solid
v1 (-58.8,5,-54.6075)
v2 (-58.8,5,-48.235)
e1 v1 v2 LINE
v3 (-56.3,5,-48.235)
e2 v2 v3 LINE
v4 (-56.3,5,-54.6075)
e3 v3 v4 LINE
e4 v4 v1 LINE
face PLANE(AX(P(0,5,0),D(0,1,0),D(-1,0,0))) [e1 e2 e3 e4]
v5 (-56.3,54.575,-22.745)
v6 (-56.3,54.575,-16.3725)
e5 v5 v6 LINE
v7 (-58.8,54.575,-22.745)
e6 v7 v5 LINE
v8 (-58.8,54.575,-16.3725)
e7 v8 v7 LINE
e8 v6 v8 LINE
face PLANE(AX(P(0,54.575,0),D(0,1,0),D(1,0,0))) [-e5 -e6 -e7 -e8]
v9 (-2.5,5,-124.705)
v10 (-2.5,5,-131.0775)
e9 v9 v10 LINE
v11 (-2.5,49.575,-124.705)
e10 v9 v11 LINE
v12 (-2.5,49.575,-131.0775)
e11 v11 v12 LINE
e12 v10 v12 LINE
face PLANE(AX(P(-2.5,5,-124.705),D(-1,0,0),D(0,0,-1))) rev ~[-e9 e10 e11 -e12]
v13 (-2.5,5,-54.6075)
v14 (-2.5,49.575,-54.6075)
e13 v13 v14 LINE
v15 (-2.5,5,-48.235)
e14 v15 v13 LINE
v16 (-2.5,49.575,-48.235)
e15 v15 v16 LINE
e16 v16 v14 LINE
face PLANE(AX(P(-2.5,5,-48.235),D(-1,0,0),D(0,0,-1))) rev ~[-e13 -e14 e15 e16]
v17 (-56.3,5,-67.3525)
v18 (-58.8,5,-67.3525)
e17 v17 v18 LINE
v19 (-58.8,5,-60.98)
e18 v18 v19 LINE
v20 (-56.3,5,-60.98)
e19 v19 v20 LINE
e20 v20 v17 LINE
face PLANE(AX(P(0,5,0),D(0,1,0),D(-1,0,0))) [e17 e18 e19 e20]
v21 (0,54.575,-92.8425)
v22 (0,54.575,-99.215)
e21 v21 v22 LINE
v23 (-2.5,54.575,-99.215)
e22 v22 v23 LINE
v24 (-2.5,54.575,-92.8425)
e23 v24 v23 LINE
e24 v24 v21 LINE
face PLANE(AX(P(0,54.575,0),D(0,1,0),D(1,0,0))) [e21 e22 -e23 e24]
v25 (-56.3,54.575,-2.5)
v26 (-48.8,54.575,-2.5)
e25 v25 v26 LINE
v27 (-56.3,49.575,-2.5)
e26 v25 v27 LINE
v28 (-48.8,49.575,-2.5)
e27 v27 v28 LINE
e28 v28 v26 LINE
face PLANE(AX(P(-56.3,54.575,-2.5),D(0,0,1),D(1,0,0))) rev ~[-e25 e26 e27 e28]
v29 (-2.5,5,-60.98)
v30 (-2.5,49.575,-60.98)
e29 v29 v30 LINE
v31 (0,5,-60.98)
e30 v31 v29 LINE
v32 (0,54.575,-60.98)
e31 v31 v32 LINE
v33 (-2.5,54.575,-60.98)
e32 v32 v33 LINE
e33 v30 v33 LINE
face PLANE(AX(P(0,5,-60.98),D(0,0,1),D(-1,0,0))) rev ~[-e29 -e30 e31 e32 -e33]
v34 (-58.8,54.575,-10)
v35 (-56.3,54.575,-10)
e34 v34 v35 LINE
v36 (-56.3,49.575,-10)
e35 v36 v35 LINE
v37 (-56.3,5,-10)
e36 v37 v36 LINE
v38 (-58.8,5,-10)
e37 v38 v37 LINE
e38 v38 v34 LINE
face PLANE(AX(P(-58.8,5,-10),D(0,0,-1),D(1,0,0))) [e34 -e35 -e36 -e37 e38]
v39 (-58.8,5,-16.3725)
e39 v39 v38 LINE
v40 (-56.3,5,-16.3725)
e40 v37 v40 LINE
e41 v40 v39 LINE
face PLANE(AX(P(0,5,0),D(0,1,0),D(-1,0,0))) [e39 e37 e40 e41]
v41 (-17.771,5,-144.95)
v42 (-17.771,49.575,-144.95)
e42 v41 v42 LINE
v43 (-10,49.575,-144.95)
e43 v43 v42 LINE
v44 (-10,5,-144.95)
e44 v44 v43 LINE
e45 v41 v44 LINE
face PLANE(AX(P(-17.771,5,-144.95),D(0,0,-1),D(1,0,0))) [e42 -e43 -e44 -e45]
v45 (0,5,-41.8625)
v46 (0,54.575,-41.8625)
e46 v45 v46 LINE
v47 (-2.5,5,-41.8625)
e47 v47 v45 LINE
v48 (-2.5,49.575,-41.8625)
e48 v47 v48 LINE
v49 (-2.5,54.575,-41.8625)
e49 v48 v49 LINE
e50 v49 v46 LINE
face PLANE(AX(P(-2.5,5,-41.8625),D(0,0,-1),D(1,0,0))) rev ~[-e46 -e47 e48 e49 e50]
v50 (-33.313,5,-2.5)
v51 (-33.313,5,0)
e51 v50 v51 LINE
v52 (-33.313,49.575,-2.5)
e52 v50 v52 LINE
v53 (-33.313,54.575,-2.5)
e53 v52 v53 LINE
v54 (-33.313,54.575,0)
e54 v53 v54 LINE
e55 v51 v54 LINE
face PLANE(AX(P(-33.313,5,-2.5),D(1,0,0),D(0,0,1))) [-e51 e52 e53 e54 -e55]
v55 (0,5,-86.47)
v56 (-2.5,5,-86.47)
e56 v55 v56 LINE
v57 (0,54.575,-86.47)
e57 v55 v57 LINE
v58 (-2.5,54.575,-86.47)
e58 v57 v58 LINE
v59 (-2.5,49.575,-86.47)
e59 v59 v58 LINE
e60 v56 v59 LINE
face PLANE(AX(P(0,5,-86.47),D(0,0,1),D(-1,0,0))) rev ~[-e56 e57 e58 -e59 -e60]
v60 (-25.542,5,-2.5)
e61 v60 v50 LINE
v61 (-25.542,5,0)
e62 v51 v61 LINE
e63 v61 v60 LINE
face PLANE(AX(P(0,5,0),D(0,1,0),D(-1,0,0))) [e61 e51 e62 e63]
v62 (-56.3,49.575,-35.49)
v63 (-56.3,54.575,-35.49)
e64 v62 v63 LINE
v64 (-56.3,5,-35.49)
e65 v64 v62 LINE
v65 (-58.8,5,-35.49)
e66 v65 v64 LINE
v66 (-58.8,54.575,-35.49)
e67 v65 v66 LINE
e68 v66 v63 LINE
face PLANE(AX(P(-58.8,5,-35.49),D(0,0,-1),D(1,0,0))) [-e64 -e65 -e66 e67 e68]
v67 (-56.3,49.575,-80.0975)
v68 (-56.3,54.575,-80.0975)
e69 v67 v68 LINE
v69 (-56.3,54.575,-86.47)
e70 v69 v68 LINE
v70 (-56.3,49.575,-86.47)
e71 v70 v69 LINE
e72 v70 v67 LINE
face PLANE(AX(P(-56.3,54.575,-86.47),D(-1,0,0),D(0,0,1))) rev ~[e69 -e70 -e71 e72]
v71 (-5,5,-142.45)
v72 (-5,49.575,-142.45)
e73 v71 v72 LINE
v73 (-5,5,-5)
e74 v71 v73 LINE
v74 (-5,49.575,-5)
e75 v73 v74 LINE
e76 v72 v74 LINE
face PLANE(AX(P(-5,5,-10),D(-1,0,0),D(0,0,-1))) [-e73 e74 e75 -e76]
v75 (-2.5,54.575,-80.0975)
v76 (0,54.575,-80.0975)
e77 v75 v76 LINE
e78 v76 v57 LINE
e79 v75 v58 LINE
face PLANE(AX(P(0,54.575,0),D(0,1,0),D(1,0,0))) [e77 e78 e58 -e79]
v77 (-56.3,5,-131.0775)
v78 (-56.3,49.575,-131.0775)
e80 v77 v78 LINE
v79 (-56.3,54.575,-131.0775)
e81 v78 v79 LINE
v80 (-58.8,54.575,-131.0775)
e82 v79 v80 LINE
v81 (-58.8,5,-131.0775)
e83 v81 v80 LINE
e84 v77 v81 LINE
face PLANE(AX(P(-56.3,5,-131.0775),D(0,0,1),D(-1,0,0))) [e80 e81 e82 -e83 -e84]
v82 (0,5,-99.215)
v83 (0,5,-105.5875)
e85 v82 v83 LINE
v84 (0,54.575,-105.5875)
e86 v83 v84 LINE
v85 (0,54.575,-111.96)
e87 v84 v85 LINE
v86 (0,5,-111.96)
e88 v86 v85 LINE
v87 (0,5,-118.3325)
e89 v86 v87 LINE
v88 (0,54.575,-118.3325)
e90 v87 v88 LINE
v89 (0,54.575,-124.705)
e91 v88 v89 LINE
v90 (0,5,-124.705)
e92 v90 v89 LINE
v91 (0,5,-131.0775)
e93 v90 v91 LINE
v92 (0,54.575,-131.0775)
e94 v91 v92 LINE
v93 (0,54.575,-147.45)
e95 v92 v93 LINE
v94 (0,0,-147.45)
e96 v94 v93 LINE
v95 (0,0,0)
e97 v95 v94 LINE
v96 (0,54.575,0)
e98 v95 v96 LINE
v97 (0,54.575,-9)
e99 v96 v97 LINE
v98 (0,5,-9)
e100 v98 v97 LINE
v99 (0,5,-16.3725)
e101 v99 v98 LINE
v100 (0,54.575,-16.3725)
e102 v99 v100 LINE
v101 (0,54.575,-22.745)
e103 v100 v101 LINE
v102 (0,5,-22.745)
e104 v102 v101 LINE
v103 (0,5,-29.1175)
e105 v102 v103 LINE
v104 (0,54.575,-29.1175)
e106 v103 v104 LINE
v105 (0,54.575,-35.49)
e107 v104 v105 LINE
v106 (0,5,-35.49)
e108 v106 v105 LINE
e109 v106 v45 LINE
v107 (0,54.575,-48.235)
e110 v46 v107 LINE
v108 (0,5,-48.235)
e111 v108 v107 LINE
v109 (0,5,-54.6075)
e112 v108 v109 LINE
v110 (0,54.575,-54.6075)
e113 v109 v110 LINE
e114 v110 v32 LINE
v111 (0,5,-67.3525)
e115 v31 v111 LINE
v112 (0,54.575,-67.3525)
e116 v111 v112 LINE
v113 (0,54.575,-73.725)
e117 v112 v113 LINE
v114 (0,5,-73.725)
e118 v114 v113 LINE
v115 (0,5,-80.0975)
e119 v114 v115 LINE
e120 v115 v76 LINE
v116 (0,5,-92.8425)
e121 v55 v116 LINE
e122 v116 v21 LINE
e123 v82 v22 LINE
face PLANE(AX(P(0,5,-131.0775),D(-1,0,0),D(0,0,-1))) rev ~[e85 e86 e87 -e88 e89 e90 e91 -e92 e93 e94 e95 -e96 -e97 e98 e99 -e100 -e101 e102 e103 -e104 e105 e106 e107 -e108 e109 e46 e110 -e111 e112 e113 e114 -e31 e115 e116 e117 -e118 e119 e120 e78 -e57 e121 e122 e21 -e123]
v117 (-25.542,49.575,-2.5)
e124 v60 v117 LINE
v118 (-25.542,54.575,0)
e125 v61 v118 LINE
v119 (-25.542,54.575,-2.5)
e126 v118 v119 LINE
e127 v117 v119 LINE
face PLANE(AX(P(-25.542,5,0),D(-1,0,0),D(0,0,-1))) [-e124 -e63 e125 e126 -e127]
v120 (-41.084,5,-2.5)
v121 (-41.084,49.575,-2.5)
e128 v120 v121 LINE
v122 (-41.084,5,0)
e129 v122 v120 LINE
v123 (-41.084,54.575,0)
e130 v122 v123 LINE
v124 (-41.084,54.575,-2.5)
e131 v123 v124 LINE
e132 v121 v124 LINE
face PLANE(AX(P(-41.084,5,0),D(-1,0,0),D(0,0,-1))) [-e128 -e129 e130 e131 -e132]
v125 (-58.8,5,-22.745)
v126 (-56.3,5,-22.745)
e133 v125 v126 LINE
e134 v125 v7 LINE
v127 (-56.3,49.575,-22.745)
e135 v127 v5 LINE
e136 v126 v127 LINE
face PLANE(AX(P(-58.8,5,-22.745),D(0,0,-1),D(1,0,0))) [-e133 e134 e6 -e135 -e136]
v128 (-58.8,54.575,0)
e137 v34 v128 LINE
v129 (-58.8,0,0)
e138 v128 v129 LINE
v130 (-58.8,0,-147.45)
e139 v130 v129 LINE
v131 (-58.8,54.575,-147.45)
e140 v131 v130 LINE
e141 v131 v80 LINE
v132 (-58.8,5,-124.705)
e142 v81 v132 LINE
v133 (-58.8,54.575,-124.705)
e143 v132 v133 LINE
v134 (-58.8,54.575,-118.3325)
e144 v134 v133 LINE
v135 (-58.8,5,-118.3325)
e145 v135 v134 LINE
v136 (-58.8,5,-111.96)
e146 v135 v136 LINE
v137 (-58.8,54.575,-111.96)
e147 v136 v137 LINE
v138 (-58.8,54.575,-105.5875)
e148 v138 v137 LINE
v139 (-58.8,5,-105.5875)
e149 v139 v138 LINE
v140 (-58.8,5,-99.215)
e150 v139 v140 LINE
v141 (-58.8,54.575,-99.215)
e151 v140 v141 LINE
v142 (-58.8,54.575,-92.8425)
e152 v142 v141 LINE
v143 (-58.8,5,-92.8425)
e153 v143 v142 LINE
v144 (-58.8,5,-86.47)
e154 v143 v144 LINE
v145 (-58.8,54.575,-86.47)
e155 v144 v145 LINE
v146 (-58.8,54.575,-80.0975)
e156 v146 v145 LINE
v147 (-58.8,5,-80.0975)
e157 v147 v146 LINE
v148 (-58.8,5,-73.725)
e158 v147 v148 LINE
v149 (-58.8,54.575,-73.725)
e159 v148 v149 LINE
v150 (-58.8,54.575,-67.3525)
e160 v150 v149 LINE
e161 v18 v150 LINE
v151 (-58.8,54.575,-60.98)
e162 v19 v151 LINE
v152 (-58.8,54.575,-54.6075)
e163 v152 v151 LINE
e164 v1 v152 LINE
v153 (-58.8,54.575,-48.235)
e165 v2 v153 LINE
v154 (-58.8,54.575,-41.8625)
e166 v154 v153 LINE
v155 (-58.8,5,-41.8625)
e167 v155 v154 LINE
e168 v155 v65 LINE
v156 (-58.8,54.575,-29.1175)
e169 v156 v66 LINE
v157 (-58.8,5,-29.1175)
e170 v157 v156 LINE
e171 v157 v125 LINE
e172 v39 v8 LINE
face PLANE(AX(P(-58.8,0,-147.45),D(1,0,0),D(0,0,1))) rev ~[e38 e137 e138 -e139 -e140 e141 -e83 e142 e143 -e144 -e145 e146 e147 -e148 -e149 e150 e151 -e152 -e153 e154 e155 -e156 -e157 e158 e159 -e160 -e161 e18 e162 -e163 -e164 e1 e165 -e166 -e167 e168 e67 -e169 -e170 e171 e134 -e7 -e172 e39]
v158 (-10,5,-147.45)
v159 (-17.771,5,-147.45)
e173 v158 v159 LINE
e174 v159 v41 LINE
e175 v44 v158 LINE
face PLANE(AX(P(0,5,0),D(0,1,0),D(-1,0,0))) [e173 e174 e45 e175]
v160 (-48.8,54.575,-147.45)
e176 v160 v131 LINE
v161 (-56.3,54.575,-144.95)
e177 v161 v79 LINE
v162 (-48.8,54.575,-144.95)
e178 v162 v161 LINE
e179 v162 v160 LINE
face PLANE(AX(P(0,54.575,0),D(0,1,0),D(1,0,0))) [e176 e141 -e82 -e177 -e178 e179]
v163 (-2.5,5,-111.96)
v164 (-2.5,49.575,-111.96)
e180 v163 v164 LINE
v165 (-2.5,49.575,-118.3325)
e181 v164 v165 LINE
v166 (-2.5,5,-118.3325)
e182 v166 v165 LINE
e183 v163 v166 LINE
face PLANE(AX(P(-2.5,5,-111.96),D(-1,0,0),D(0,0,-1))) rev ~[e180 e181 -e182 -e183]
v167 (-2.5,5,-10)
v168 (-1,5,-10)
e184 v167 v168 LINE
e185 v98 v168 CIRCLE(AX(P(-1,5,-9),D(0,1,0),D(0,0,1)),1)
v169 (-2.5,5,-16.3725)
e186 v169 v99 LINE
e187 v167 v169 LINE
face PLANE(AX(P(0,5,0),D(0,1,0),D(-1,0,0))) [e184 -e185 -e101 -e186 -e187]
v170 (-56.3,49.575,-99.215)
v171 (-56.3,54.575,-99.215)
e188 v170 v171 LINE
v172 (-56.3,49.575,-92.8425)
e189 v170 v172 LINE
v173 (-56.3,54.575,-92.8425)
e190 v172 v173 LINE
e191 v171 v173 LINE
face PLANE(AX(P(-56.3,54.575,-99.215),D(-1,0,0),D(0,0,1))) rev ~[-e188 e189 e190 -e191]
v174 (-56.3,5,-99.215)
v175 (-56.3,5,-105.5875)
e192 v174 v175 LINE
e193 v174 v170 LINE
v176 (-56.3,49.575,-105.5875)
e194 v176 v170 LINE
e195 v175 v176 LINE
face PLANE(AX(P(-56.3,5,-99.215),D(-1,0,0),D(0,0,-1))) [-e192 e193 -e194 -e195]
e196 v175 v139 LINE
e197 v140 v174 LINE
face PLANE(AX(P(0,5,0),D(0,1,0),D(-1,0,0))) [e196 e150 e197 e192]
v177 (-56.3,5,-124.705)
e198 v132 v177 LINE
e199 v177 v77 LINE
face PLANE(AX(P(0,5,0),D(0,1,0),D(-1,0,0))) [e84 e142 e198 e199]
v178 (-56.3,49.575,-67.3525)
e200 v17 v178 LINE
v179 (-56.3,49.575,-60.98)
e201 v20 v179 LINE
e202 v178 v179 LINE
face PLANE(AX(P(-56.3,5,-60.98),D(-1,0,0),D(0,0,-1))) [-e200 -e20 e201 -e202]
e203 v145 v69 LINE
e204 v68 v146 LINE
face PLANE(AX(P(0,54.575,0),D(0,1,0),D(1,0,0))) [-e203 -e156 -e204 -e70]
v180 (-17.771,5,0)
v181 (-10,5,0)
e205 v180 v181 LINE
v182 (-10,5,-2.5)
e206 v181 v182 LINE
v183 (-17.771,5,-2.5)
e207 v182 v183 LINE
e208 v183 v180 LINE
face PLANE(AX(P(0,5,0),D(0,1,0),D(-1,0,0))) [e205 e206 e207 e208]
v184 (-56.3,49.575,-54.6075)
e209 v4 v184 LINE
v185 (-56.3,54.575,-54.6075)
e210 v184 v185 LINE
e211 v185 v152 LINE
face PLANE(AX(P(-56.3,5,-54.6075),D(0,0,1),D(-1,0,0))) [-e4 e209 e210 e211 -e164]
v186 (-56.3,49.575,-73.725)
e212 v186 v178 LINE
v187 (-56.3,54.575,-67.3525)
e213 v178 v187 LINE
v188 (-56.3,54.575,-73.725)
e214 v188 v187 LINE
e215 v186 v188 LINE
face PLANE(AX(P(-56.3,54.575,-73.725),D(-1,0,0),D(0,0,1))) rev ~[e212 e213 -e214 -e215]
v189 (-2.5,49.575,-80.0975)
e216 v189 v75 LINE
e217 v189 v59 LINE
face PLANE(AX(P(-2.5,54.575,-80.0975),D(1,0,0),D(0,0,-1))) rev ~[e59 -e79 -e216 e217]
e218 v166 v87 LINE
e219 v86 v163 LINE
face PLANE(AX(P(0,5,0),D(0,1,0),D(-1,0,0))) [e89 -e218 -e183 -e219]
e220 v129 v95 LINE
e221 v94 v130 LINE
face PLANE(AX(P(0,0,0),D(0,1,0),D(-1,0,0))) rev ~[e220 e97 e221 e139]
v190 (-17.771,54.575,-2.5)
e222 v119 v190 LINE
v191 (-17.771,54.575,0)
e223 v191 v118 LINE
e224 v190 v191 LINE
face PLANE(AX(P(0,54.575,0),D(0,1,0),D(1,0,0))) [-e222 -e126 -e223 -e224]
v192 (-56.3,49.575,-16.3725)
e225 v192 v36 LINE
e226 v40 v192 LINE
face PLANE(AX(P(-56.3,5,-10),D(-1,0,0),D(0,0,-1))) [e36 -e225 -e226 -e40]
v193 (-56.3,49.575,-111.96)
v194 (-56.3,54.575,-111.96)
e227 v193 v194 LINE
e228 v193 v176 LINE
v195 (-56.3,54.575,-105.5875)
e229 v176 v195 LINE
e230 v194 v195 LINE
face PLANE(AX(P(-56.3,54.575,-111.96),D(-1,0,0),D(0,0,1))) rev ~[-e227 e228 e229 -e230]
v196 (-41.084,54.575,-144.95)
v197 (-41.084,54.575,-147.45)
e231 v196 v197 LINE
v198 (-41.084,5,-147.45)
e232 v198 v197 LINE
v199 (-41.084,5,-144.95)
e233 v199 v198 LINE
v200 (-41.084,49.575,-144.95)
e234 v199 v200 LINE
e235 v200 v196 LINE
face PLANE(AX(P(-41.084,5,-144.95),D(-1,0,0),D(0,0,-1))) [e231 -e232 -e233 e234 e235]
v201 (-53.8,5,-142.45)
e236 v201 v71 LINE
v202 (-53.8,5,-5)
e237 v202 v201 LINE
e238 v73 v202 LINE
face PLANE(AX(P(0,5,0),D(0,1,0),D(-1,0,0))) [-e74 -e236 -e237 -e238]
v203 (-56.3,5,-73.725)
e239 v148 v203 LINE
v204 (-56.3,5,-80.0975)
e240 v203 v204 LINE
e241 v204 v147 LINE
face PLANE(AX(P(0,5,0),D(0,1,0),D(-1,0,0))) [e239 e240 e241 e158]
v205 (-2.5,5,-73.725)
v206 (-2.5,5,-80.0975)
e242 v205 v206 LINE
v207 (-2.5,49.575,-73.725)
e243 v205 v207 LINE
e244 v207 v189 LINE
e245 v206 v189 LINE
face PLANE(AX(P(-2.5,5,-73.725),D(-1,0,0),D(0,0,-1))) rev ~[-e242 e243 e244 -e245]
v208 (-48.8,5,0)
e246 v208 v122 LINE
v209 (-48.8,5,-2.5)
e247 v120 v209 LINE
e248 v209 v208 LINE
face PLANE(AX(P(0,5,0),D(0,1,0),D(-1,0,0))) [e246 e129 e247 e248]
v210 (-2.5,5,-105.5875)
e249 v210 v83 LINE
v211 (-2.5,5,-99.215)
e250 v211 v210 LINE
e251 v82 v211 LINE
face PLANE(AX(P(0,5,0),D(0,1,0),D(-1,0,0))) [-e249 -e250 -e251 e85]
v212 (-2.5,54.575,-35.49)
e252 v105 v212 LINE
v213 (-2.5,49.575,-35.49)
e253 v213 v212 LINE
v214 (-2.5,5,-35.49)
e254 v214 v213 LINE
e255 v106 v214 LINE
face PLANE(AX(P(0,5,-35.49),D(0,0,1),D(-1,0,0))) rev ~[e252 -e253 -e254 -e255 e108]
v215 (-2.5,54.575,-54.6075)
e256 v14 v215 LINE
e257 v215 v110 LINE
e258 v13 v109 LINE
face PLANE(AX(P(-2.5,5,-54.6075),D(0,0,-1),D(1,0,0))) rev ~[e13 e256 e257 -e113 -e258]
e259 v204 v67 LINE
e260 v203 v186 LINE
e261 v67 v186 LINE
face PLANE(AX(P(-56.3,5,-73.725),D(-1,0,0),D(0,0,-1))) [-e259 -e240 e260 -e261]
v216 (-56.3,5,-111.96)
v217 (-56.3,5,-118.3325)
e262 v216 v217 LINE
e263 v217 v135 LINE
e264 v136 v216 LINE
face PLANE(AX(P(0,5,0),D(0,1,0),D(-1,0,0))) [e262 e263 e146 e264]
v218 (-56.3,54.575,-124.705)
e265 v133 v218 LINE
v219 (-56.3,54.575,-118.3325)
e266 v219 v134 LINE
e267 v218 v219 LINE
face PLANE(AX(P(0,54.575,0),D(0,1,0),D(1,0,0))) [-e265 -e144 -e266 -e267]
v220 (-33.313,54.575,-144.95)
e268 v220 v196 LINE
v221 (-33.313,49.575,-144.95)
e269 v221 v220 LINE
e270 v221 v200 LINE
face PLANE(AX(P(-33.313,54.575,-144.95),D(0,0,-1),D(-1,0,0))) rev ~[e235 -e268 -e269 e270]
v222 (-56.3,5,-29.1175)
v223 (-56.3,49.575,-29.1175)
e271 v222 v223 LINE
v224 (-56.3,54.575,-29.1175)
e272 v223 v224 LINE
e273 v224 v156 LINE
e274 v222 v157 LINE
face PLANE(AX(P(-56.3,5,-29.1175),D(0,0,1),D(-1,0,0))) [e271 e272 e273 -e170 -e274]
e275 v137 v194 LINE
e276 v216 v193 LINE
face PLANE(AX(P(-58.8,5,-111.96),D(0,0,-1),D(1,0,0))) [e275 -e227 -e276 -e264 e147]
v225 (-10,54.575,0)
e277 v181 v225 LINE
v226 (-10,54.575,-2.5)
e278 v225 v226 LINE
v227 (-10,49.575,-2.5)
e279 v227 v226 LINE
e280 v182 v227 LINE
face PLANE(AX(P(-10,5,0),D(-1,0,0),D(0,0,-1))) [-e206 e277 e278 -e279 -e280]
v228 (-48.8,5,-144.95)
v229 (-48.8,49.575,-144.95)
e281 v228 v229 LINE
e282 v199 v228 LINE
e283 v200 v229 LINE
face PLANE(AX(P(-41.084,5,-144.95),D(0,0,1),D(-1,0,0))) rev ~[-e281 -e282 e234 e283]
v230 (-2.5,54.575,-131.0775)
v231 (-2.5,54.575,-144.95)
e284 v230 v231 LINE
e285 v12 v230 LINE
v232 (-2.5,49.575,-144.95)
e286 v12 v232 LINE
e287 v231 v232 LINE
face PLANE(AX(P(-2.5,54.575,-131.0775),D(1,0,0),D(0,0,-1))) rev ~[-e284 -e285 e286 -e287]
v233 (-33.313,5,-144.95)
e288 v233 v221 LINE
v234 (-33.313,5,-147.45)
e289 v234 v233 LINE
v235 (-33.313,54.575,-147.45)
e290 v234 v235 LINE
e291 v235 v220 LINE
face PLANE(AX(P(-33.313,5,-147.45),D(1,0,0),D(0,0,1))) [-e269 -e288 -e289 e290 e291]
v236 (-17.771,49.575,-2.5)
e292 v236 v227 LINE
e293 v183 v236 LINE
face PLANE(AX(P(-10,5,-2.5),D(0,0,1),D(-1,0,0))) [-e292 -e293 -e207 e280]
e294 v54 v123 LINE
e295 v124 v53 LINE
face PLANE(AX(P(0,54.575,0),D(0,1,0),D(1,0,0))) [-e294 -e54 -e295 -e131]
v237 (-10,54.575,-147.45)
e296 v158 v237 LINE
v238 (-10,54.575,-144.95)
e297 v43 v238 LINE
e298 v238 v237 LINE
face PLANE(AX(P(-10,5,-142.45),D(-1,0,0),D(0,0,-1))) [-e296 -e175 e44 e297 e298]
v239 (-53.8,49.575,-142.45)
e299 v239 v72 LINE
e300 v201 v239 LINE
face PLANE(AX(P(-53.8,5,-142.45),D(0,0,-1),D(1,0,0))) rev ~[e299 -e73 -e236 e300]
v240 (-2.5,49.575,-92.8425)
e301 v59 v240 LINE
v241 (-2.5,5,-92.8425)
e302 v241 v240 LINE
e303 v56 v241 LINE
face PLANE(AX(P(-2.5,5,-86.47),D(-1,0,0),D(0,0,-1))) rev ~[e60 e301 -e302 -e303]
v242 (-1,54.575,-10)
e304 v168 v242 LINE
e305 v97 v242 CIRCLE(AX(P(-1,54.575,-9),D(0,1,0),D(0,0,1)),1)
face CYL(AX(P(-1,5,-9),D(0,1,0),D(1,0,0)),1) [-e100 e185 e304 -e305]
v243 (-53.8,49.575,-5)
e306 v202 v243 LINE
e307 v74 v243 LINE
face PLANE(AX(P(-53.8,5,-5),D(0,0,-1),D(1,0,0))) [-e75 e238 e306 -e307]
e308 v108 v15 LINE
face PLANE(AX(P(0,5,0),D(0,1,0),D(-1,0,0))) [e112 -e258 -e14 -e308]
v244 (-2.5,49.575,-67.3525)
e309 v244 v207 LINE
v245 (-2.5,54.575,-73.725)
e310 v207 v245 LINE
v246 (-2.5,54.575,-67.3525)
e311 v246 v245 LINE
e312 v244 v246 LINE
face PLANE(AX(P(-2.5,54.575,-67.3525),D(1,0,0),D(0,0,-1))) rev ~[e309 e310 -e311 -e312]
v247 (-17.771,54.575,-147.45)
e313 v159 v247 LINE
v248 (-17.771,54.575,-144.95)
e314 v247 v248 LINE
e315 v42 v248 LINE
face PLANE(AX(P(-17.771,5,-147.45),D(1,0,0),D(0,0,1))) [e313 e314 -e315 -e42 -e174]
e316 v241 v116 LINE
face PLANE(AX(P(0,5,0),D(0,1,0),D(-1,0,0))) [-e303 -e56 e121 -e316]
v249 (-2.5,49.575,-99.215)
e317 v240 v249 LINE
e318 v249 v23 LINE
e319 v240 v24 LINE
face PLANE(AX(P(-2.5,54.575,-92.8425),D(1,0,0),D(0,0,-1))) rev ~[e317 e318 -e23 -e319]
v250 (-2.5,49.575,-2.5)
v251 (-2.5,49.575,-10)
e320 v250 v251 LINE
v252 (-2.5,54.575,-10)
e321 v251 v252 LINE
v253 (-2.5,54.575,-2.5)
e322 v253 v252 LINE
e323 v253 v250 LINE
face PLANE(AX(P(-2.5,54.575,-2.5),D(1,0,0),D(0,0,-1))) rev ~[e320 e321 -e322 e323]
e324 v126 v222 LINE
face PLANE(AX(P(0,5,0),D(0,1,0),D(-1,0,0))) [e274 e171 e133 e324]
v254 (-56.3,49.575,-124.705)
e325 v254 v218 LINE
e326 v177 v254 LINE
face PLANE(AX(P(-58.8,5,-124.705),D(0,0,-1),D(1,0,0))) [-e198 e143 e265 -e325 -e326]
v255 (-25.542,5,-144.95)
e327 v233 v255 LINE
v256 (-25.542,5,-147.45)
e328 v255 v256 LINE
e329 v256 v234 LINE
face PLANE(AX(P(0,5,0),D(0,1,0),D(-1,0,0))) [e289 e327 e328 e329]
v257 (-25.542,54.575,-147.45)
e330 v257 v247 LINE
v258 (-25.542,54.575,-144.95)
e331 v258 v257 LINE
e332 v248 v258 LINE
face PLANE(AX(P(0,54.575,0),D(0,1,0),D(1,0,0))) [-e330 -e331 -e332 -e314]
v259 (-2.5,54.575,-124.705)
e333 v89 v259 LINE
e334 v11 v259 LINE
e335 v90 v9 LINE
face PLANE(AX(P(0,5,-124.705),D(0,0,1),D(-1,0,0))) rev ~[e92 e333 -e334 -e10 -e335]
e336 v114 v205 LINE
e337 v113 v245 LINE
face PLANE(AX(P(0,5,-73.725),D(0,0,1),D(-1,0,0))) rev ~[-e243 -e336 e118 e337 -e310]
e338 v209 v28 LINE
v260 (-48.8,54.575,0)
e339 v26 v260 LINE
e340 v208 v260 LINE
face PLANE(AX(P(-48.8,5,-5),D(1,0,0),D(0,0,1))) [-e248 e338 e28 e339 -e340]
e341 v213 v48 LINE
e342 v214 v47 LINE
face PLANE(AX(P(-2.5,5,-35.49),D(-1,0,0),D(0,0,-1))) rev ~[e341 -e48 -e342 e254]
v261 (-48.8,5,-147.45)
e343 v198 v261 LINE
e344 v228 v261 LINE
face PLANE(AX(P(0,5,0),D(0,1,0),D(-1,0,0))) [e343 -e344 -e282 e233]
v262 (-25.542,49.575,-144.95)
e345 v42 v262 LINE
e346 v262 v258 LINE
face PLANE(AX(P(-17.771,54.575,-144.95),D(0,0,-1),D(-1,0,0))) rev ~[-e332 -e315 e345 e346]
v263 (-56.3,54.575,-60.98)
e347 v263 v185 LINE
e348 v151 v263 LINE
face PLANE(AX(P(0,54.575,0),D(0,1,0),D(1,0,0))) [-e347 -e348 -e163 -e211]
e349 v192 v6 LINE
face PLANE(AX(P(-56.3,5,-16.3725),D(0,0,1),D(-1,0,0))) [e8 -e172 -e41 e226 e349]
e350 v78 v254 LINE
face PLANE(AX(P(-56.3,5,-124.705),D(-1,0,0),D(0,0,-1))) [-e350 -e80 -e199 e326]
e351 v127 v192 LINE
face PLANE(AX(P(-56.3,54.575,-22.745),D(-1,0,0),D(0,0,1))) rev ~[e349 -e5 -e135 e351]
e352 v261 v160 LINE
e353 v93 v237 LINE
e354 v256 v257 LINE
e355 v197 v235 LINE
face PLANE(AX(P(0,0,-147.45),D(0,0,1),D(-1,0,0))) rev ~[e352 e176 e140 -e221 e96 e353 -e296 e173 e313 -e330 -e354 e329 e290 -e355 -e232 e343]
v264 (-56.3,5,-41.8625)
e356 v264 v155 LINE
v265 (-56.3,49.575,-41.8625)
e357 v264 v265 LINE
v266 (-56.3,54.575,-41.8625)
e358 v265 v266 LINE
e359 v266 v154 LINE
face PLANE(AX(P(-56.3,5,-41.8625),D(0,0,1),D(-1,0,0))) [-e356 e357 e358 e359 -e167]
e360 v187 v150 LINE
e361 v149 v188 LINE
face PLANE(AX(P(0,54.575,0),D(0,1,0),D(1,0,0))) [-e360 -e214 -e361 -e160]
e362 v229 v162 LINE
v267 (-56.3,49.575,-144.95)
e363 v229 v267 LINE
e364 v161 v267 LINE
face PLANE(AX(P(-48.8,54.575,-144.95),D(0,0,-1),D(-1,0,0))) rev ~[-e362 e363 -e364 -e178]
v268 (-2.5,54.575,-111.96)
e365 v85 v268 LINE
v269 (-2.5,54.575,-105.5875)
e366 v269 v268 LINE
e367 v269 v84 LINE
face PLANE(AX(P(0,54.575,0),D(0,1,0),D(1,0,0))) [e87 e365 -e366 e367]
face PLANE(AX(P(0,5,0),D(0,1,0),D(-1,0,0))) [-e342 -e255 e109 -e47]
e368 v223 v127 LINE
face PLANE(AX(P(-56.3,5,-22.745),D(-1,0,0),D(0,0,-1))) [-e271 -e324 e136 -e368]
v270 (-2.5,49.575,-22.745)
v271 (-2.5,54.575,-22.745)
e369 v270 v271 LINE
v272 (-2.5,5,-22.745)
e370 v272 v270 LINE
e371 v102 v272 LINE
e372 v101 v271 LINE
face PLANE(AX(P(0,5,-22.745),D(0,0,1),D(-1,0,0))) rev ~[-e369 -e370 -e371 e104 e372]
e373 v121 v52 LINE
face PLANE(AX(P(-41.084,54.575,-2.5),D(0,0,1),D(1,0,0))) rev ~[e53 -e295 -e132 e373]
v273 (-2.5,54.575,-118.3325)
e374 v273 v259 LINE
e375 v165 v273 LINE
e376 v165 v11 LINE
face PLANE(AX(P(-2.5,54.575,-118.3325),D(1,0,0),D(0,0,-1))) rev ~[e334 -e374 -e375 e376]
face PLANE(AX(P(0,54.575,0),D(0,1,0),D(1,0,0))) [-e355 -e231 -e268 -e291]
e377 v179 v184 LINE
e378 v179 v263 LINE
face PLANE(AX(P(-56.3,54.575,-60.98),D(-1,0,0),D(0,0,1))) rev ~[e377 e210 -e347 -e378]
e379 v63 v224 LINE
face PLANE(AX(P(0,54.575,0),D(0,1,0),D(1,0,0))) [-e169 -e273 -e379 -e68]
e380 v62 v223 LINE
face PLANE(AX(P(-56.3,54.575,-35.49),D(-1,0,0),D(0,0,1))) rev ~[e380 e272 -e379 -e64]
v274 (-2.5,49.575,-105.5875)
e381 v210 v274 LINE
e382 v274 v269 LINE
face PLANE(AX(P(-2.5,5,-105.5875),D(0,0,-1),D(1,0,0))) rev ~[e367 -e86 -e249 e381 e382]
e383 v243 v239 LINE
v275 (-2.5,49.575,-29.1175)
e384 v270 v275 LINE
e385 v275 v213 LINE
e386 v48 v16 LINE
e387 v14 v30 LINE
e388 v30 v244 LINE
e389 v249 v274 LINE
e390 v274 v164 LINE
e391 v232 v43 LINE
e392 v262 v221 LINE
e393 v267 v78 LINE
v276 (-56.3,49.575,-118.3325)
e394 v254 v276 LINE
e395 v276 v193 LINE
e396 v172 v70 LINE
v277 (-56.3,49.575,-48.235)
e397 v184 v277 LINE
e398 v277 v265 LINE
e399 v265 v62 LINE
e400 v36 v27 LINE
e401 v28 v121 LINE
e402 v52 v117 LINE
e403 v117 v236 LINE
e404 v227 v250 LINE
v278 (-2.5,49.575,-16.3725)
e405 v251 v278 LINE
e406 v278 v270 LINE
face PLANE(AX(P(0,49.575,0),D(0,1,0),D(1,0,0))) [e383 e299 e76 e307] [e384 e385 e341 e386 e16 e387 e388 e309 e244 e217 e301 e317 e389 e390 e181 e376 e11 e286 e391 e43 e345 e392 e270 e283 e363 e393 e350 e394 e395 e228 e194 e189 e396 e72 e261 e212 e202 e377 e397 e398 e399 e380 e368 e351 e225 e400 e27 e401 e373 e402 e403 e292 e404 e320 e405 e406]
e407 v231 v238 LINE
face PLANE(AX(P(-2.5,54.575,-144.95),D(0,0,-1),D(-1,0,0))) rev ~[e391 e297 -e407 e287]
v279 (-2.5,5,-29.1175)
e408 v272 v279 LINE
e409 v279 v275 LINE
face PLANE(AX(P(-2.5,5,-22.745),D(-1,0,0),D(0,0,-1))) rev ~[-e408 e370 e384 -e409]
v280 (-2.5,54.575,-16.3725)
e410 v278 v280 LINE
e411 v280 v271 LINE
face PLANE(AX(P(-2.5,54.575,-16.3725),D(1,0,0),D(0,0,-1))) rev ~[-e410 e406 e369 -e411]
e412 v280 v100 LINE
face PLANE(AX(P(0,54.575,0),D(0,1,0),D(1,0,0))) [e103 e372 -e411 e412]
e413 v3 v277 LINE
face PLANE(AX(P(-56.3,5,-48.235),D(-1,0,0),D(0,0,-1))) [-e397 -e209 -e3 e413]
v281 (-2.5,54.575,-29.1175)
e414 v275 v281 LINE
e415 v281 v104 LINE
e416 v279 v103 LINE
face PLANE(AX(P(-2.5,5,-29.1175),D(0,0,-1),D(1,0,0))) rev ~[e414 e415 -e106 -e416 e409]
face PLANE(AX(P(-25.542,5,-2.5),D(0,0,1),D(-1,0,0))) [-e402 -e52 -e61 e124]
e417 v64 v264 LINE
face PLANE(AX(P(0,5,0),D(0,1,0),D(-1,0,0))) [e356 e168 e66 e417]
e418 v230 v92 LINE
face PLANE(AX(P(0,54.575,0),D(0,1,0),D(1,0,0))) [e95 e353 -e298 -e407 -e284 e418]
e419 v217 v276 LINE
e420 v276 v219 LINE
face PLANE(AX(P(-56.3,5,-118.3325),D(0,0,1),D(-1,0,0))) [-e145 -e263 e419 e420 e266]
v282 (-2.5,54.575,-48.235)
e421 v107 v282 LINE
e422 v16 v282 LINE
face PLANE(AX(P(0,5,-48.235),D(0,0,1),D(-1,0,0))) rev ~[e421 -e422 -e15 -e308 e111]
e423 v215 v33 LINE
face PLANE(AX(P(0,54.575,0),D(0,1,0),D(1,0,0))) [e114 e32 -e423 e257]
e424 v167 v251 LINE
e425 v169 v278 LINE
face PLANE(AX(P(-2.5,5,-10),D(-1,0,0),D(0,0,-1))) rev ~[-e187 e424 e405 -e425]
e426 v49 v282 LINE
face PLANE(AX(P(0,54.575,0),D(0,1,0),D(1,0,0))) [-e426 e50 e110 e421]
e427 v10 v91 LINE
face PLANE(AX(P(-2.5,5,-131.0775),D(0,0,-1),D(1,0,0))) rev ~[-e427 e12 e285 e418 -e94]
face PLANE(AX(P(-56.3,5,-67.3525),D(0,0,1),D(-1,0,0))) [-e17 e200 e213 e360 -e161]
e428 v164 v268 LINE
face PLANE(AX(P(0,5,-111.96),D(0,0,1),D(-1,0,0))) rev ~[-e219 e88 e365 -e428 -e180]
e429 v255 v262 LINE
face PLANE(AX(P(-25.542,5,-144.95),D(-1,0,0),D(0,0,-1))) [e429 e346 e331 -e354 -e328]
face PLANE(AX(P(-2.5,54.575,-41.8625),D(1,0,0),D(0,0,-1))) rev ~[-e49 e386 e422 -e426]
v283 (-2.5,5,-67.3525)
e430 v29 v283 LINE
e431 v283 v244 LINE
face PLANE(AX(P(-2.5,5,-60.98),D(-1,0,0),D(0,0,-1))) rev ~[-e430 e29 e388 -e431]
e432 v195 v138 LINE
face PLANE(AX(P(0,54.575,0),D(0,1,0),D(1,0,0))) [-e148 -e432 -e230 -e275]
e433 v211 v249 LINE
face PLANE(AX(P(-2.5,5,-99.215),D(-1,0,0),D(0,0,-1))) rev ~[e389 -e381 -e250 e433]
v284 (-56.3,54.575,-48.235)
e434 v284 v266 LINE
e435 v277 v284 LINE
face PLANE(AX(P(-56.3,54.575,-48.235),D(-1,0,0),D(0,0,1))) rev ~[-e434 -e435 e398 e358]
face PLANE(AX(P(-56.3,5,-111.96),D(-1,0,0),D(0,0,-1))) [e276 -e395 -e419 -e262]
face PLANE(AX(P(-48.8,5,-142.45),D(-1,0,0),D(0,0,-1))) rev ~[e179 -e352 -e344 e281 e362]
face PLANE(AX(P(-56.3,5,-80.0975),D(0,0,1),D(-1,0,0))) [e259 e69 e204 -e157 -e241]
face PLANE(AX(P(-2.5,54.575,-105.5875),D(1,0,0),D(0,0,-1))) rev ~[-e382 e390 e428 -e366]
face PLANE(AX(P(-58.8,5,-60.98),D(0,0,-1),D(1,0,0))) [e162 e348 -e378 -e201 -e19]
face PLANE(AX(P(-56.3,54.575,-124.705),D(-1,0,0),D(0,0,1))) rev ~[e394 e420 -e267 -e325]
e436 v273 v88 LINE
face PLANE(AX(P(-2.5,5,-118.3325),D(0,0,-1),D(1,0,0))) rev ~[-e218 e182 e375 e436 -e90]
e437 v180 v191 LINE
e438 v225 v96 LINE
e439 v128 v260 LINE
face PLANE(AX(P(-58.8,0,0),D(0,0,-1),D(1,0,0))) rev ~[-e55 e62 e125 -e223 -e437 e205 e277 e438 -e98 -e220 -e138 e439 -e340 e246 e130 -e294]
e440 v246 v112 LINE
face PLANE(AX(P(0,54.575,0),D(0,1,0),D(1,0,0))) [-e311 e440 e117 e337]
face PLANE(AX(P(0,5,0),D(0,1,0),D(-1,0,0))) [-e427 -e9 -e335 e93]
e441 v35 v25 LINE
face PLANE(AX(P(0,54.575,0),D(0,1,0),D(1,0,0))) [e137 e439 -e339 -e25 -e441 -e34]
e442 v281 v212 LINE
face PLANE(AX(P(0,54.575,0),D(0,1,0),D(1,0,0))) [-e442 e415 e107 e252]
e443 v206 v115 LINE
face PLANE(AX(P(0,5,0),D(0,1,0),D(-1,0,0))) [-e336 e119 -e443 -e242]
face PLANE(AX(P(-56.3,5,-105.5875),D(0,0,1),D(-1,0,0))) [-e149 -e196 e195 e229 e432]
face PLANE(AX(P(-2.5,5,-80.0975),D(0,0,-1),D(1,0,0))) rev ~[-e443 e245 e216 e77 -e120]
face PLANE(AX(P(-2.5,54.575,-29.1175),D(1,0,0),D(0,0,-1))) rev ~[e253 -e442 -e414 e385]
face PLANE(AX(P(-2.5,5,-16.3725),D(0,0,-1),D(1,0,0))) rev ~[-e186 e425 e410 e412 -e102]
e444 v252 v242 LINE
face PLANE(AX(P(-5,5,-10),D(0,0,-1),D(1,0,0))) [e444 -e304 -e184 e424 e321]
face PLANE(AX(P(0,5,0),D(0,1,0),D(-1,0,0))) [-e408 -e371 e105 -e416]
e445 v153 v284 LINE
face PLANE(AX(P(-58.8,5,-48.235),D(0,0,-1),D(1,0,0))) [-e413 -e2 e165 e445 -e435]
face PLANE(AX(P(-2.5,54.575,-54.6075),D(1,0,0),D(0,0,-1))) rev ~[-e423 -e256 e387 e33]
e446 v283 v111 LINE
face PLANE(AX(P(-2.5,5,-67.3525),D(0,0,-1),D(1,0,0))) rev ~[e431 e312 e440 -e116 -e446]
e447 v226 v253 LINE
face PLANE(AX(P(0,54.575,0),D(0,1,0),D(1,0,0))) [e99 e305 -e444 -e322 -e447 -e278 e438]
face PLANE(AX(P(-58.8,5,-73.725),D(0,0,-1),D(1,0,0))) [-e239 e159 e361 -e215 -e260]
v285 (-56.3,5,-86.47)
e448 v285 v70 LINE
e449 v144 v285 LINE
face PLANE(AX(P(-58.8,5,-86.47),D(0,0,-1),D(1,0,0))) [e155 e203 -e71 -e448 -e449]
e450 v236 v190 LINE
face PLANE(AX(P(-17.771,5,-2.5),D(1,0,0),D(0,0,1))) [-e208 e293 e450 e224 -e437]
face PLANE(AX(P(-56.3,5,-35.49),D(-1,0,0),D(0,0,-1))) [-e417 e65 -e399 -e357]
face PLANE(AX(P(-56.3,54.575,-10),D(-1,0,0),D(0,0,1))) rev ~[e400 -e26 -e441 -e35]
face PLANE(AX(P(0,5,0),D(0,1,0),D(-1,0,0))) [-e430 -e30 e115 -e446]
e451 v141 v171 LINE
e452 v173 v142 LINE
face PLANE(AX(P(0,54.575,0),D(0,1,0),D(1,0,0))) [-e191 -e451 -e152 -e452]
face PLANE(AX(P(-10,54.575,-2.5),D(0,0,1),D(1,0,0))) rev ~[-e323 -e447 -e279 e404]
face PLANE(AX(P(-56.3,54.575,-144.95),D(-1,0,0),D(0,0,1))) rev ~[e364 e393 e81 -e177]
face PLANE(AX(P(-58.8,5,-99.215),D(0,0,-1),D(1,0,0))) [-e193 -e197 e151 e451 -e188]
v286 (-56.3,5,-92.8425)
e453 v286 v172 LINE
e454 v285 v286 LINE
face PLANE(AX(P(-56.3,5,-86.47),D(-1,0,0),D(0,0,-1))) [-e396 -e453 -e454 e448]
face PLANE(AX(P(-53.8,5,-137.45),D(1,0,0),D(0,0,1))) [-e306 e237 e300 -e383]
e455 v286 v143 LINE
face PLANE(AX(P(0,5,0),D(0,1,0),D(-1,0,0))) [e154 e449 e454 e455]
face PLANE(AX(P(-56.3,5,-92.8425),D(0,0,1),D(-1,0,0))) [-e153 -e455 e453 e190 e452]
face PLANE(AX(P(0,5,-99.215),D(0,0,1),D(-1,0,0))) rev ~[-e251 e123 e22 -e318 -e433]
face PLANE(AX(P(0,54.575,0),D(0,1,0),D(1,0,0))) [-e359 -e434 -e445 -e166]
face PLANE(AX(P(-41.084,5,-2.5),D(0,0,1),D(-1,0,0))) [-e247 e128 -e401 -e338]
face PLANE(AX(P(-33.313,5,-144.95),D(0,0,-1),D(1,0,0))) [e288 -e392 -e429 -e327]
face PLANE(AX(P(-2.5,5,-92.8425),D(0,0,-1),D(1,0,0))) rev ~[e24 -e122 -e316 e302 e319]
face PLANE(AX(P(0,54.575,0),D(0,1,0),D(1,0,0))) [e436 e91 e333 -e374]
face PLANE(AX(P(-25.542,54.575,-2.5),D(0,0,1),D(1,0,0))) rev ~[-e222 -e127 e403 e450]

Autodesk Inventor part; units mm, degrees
ref_plane "YZ Plane" through (0, 0, 0) normal (1, 0, 0) x (0, 1, 0)
ref_plane "XZ Plane" through (0, 0, 0) normal (0, 1, 0) x (-1, 0, 0)
ref_plane "XY Plane" through (0, 0, 0) normal (0, 0, 1) x (1, 0, 0)
sketch "Sketch1" plane through (0, 0, 0) normal (0, 1, 0) x (-1, 0, 0)
  line L0 (0, 0) -> (0, -147.45)
  line L1 (0, -147.45) -> (58.8, -147.45)
  line L2 (58.8, -147.45) -> (58.8, 0)
  line L3 (58.8, 0) -> (0, 0)
  dimension "d0" = 147.45
  dimension "d1" = 58.8
extrude "Extrusion1" add sketch "Sketch1" along normal blind 5
sketch "Sketch2" plane through (0, 5, 0) normal (0, 1, 0) x (1, 0, 0)
  line L0 (0, 0) -> (0, 147.45) projected
  line L1 (0, 147.45) -> (-58.8, 147.45) projected
  line L2 (-58.8, 147.45) -> (-58.8, 0) projected
  line L3 (-58.8, 0) -> (0, 0) projected
  line L4 (0, 0) -> (0, 147.45) projected
  line L5 (0, 0) -> (-10, 0)
  line L6 (-10, 0) -> (-10, 5)
  line L7 (-10, 5) -> (-5, 5)
  line L8 (-5, 5) -> (-5, 10)
  line L9 (-5, 10) -> (0, 10)
  line L10 (0, 0) -> (0, 10)
  line L11 (0, 147.45) -> (0, 137.45)
  line L12 (0, 137.45) -> (-5, 137.45)
  line L13 (-5, 137.45) -> (-5, 142.45)
  line L14 (-5, 142.45) -> (-10, 142.45)
  line L15 (-10, 142.45) -> (-10, 147.45)
  line L16 (0, 147.45) -> (-58.8, 147.45) projected
  line L17 (-10, 147.45) -> (0, 147.45)
  line L18 (-58.8, 147.45) -> (-58.8, 137.45)
  line L19 (-53.8, 137.45) -> (-53.8, 142.45)
  line L20 (-53.8, 142.45) -> (-48.8, 142.45)
  line L21 (-48.8, 142.45) -> (-48.8, 147.45)
  line L22 (-48.8, 147.45) -> (-58.8, 147.45)
  line L23 (-58.8, 137.45) -> (-53.8, 137.45)
  line L24 (-58.8, 147.45) -> (-58.8, 0) projected
  line L25 (-58.8, 0) -> (-58.8, 10)
  line L26 (-58.8, 10) -> (-53.8, 10)
  line L27 (-53.8, 10) -> (-53.8, 5)
  line L28 (-53.8, 5) -> (-48.8, 5)
  line L29 (-48.8, 5) -> (-48.8, 0)
  line L30 (-58.8, 0) -> (0, 0) projected
  line L31 (-48.8, 0) -> (-58.8, 0)
  dimension "d7" = 10
  dimension "d8" = 10
extrude "Extrusion2" add sketch "Sketch2" along normal blind 49.575 contours L3 L6 L7 L8 L9 L0 | L12 L13 L14 L15 L1 L0 | L3 L2 L26 L27 L28 L29 | L21 L20 L19 L23 L2 L1
sketch "Sketch3" plane through (0, 5, 0) normal (0, 1, 0) x (1, 0, 0)
  line L0 (-5, 10) -> (0, 10) projected
  line L1 (-2.5, 10) -> (-2.5, 16.3725) construction
  line L2 (-2.5, 16.3725) -> (-2.5, 22.745) construction
  line L3 (-2.5, 10) -> (-2.5, 16.3725)
  line L4 (-2.5, 16.3725) -> (0, 16.3725)
  line L5 (0, 16.3725) -> (0, 22.745)
  line L6 (0, 22.745) -> (-2.5, 22.745)
  line L7 (-5, 5) -> (-5, 10) projected
  line L8 (-5, 137.45) -> (0, 137.45) projected
  line L9 (-5, 10) -> (-5, 137.45)
  line L10 (-10, 142.45) -> (-10, 147.45) projected
  line L11 (-53.8, 142.45) -> (-48.8, 142.45) projected
  line L12 (-10, 142.45) -> (-48.8, 142.45)
  line L13 (-53.8, 137.45) -> (-53.8, 10)
  line L14 (-48.8, 5) -> (-48.8, 0) projected
  line L15 (-48.8, 5) -> (-10, 5)
  line L16 (-2.5, 22.745) -> (-2.5, 29.1175)
  line L17 (-2.5, 29.1175) -> (0, 29.1175)
  line L18 (0, 29.1175) -> (0, 35.49)
  line L19 (0, 35.49) -> (-2.5, 35.49)
  line L20 (-2.5, 35.49) -> (-2.5, 41.8625)
  line L21 (-2.5, 41.8625) -> (0, 41.8625)
  line L22 (0, 41.8625) -> (0, 48.235)
  line L23 (0, 48.235) -> (-2.5, 48.235)
  line L24 (-2.5, 48.235) -> (-2.5, 54.6075)
  line L25 (-2.5, 54.6075) -> (0, 54.6075)
  line L26 (0, 54.6075) -> (0, 60.98)
  line L27 (0, 60.98) -> (-2.5, 60.98)
  line L28 (-2.5, 60.98) -> (-2.5, 67.3525)
  line L29 (-2.5, 67.3525) -> (0, 67.3525)
  line L30 (0, 67.3525) -> (0, 73.725)
  line L31 (0, 73.725) -> (-2.5, 73.725)
  line L32 (-2.5, 73.725) -> (-2.5, 80.0975)
  line L33 (-2.5, 80.0975) -> (0, 80.0975)
  line L34 (0, 80.0975) -> (0, 86.47)
  line L35 (0, 86.47) -> (-2.5, 86.47)
  line L36 (-2.5, 86.47) -> (-2.5, 92.8425)
  line L37 (-2.5, 92.8425) -> (0, 92.8425)
  line L38 (0, 92.8425) -> (0, 99.215)
  line L39 (0, 99.215) -> (-2.5, 99.215)
  line L40 (-2.5, 99.215) -> (-2.5, 105.5875)
  line L41 (-2.5, 105.5875) -> (0, 105.5875)
  line L42 (0, 105.5875) -> (0, 111.96)
  line L43 (0, 111.96) -> (-2.5, 111.96)
  line L44 (-2.5, 111.96) -> (-2.5, 118.3325)
  line L45 (-2.5, 118.3325) -> (0, 118.3325)
  line L46 (0, 118.3325) -> (0, 124.705)
  line L47 (0, 124.705) -> (-2.5, 124.705)
  line L48 (-2.5, 124.705) -> (-2.5, 131.0775)
  line L49 (-2.5, 131.0775) -> (0, 131.0775)
  line L50 (0, 131.0775) -> (0, 137.45)
  line L51 (0, 137.45) -> (-2.5, 137.45)
  line L52 (-5, 10) -> (-2.5, 10)
  line L53 (0, 10) -> (0, 137.45) projected
  line L54 (-5, 137.45) -> (0, 137.45)
  point P0 (0, 0)
  dimension "d11" = 6.3725
  dimension "d12" = 6.3725
extrude "Extrusion3" add sketch "Sketch3" along normal blind 49.575 contours L9 L8 L50 L49 L48 L47 L46 L45 L44 L43 L42 L41 L40 L39 L38 L37 L36 L35 L34 L33 L32 L31 L30 L29 L28 L27 L26 L25 L24 L23 L22 L21 L20 L19 L18 L17 L16 L6 L5 L4 L3 L0
sketch "Sketch4" plane through (0, 5, 0) normal (0, 1, 0) x (1, 0, 0)
  line L0 (-2.5, 10) -> (-2.5, 16.3725) projected
  line L1 (0, 10) -> (-2.5, 10) projected
  line L2 (-58.8, 10) -> (-53.8, 10) projected
  line L3 (-56.3, 10) -> (-56.3, 16.3725)
  line L4 (-56.3, 16.3725) -> (-58.8, 16.3725)
  line L5 (0, 16.3725) -> (0, 22.745) projected
  line L6 (0, 22.745) -> (-2.5, 22.745) projected
  line L7 (-58.8, 16.3725) -> (-58.8, 22.745)
  line L8 (-58.8, 22.745) -> (-56.3, 22.745)
  line L9 (-5, 142.45) -> (-5, 5) projected
  line L10 (-56.3, 22.745) -> (-56.3, 29.1175)
  line L11 (-56.3, 29.1175) -> (-58.8, 29.1175)
  line L12 (-58.8, 29.1175) -> (-58.8, 35.49)
  line L13 (-58.8, 35.49) -> (-56.3, 35.49)
  line L14 (-56.3, 35.49) -> (-56.3, 41.8625)
  line L15 (-56.3, 41.8625) -> (-58.8, 41.8625)
  line L16 (-58.8, 41.8625) -> (-58.8, 48.235)
  line L17 (-58.8, 48.235) -> (-56.3, 48.235)
  line L18 (-56.3, 48.235) -> (-56.3, 54.6075)
  line L19 (-56.3, 54.6075) -> (-58.8, 54.6075)
  line L20 (-58.8, 54.6075) -> (-58.8, 60.98)
  line L21 (-58.8, 60.98) -> (-56.3, 60.98)
  line L22 (-56.3, 60.98) -> (-56.3, 67.3525)
  line L23 (-56.3, 67.3525) -> (-58.8, 67.3525)
  line L24 (-58.8, 67.3525) -> (-58.8, 73.725)
  line L25 (-58.8, 73.725) -> (-56.3, 73.725)
  line L26 (-56.3, 73.725) -> (-56.3, 80.0975)
  line L27 (-56.3, 80.0975) -> (-58.8, 80.0975)
  line L28 (-58.8, 80.0975) -> (-58.8, 86.47)
  line L29 (-58.8, 86.47) -> (-56.3, 86.47)
  line L30 (-56.3, 86.47) -> (-56.3, 92.8425)
  line L31 (-56.3, 92.8425) -> (-58.8, 92.8425)
  line L32 (-58.8, 92.8425) -> (-58.8, 99.215)
  line L33 (-58.8, 99.215) -> (-56.3, 99.215)
  line L34 (-56.3, 99.215) -> (-56.3, 105.5875)
  line L35 (-56.3, 105.5875) -> (-58.8, 105.5875)
  line L36 (-58.8, 105.5875) -> (-58.8, 111.96)
  line L37 (-58.8, 111.96) -> (-56.3, 111.96)
  line L38 (-56.3, 111.96) -> (-56.3, 118.3325)
  line L39 (-56.3, 118.3325) -> (-58.8, 118.3325)
  line L40 (-58.8, 118.3325) -> (-58.8, 124.705)
  line L41 (-58.8, 124.705) -> (-56.3, 124.705)
  line L42 (-56.3, 124.705) -> (-56.3, 131.0775)
  line L43 (-56.3, 131.0775) -> (-58.8, 131.0775)
  line L44 (-58.8, 131.0775) -> (-58.8, 137.45)
  line L45 (-58.8, 137.45) -> (-56.3, 137.45)
  line L46 (-58.8, 137.45) -> (-53.8, 137.45) projected
  line L47 (-56.3, 137.45) -> (-53.8, 137.45)
  line L48 (-53.8, 137.45) -> (-53.8, 10)
  line L49 (-56.3, 10) -> (-53.8, 10)
  point P0 (0, 0)
extrude "Extrusion4" add sketch "Sketch4" along normal blind 49.575
sketch "Sketch5" plane through (0, 5, 0) normal (0, 1, 0) x (1, 0, 0)
  line L0 (-10, 0) -> (-10, 5) projected
  line L1 (-10, 2.5) -> (-17.771, 2.5)
  line L2 (-17.771, 2.5) -> (-17.771, 0)
  line L3 (-17.771, 0) -> (-25.542, 0)
  line L4 (-25.542, 0) -> (-25.542, 2.5)
  line L5 (-5, 5) -> (-10, 5) projected
  line L6 (-25.542, 2.5) -> (-33.313, 2.5)
  line L7 (-33.313, 2.5) -> (-33.313, 0)
  line L8 (-33.313, 0) -> (-41.084, 0)
  line L9 (-48.8, 0) -> (-10, 0) projected
  line L10 (-41.084, 0) -> (-41.084, 2.5)
  line L11 (-41.084, 2.5) -> (-48.8, 2.5)
  line L12 (-48.8, 0) -> (-48.8, 5) projected
  line L13 (-48.8, 2.5) -> (-48.8, 5)
  line L14 (-10, 5) -> (-5, 5) projected
  line L15 (-48.8, 5) -> (-10, 5)
  line L16 (-10, 142.45) -> (-48.8, 142.45)
  line L17 (-48.8, 142.45) -> (-48.8, 144.95)
  line L18 (-41.084, 144.95) -> (-48.8, 144.95)
  line L19 (-41.084, 144.95) -> (-41.084, 147.45)
  line L20 (-41.084, 147.45) -> (-33.313, 147.45)
  line L21 (-33.313, 147.45) -> (-33.313, 144.95)
  line L22 (-33.313, 144.95) -> (-25.542, 144.95)
  line L23 (-25.542, 144.95) -> (-25.542, 147.45)
  line L24 (-25.542, 147.45) -> (-17.771, 147.45)
  line L25 (-17.771, 147.45) -> (-17.771, 144.95)
  line L26 (-17.771, 144.95) -> (-10, 144.95)
  line L27 (-10, 142.45) -> (-10, 147.45) projected
  line L28 (-10, 144.95) -> (-10, 142.45)
  point P0 (0, 0)
  dimension "d31" = 7.771
  dimension "d32" = 7.771
  dimension "d33" = 7.771
  dimension "d34" = 7.771
extrude "Extrusion5" add sketch "Sketch5" along normal blind 49.575 contours L1 L2 L3 L4 L6 L7 L8 L10 L11 L12 L15 L0 | L16 L17 L18 L19 L20 L21 L22 L23 L24 L25 L26 L27
fillet "Fillet1" radius 1 1 edges at (0, 29.7875, -10)
sketch "Sketch6" plane through (0, 54.575, 0) normal (0, 1, 0) x (1, 0, 0)
  arc A0 (0, 9) -> (-1, 10) centre (-1, 9) ccw projected
  line L0 (-1, 10) -> (-2.5, 10) projected
  line L1 (-2.5, 10) -> (-2.5, 16.3725) projected
  line L2 (-2.5, 16.3725) -> (0, 16.3725) projected
  line L3 (0, 16.3725) -> (0, 22.745) projected
  line L4 (0, 22.745) -> (-2.5, 22.745) projected
  line L5 (-2.5, 22.745) -> (-2.5, 29.1175) projected
  line L6 (-2.5, 29.1175) -> (0, 29.1175) projected
  line L7 (0, 29.1175) -> (0, 35.49) projected
  line L8 (0, 35.49) -> (-2.5, 35.49) projected
  line L9 (-2.5, 35.49) -> (-2.5, 41.8625) projected
  line L10 (-2.5, 41.8625) -> (0, 41.8625) projected
  line L11 (0, 41.8625) -> (0, 48.235) projected
  line L12 (0, 48.235) -> (-2.5, 48.235) projected
  line L13 (-2.5, 48.235) -> (-2.5, 54.6075) projected
  line L14 (-2.5, 54.6075) -> (0, 54.6075) projected
  line L15 (0, 54.6075) -> (0, 60.98) projected
  line L16 (0, 60.98) -> (-2.5, 60.98) projected
  line L17 (-2.5, 60.98) -> (-2.5, 67.3525) projected
  line L18 (-2.5, 67.3525) -> (0, 67.3525) projected
  line L19 (0, 67.3525) -> (0, 73.725) projected
  line L20 (0, 73.725) -> (-2.5, 73.725) projected
  line L21 (-2.5, 73.725) -> (-2.5, 80.0975) projected
  line L22 (-2.5, 80.0975) -> (0, 80.0975) projected
  line L23 (0, 80.0975) -> (0, 86.47) projected
  line L24 (0, 86.47) -> (-2.5, 86.47) projected
  line L25 (-2.5, 86.47) -> (-2.5, 92.8425) projected
  line L26 (-2.5, 92.8425) -> (0, 92.8425) projected
  line L27 (0, 92.8425) -> (0, 99.215) projected
  line L28 (0, 99.215) -> (-2.5, 99.215) projected
  line L29 (-2.5, 99.215) -> (-2.5, 105.5875) projected
  line L30 (-2.5, 105.5875) -> (0, 105.5875) projected
  line L31 (0, 105.5875) -> (0, 111.96) projected
  line L32 (0, 111.96) -> (-2.5, 111.96) projected
  line L33 (-2.5, 111.96) -> (-2.5, 118.3325) projected
  line L34 (-2.5, 118.3325) -> (0, 118.3325) projected
  line L35 (0, 118.3325) -> (0, 124.705) projected
  line L36 (0, 124.705) -> (-2.5, 124.705) projected
  line L37 (-2.5, 124.705) -> (-2.5, 131.0775) projected
  line L38 (-2.5, 131.0775) -> (0, 131.0775) projected
  line L39 (0, 131.0775) -> (0, 147.45) projected
  line L40 (0, 147.45) -> (-10, 147.45) projected
  line L41 (-10, 147.45) -> (-10, 144.95) projected
  line L42 (-10, 144.95) -> (-17.771, 144.95) projected
  line L43 (-17.771, 144.95) -> (-17.771, 147.45) projected
  line L44 (-17.771, 147.45) -> (-25.542, 147.45) projected
  line L45 (-25.542, 147.45) -> (-25.542, 144.95) projected
  line L46 (-25.542, 144.95) -> (-33.313, 144.95) projected
  line L47 (-33.313, 144.95) -> (-33.313, 147.45) projected
  line L48 (-33.313, 147.45) -> (-41.084, 147.45) projected
  line L49 (-41.084, 147.45) -> (-41.084, 144.95) projected
  line L50 (-41.084, 144.95) -> (-48.8, 144.95) projected
  line L51 (-48.8, 144.95) -> (-48.8, 147.45) projected
  line L52 (-48.8, 147.45) -> (-58.8, 147.45) projected
  line L53 (-58.8, 147.45) -> (-58.8, 131.0775) projected
  line L54 (-58.8, 131.0775) -> (-56.3, 131.0775) projected
  line L55 (-56.3, 131.0775) -> (-56.3, 124.705) projected
  line L56 (-56.3, 124.705) -> (-58.8, 124.705) projected
  line L57 (-58.8, 124.705) -> (-58.8, 118.3325) projected
  line L58 (-58.8, 118.3325) -> (-56.3, 118.3325) projected
  line L59 (-56.3, 118.3325) -> (-56.3, 111.96) projected
  line L60 (-56.3, 111.96) -> (-58.8, 111.96) projected
  line L61 (-58.8, 111.96) -> (-58.8, 105.5875) projected
  line L62 (-58.8, 105.5875) -> (-56.3, 105.5875) projected
  line L63 (-56.3, 105.5875) -> (-56.3, 99.215) projected
  line L64 (-56.3, 99.215) -> (-58.8, 99.215) projected
  line L65 (-58.8, 99.215) -> (-58.8, 92.8425) projected
  line L66 (-58.8, 92.8425) -> (-56.3, 92.8425) projected
  line L67 (-56.3, 92.8425) -> (-56.3, 86.47) projected
  line L68 (-56.3, 86.47) -> (-58.8, 86.47) projected
  line L69 (-58.8, 86.47) -> (-58.8, 80.0975) projected
  line L70 (-58.8, 80.0975) -> (-56.3, 80.0975) projected
  line L71 (-56.3, 80.0975) -> (-56.3, 73.725) projected
  line L72 (-56.3, 73.725) -> (-58.8, 73.725) projected
  line L73 (-58.8, 73.725) -> (-58.8, 67.3525) projected
  line L74 (-58.8, 67.3525) -> (-56.3, 67.3525) projected
  line L75 (-56.3, 67.3525) -> (-56.3, 60.98) projected
  line L76 (-56.3, 60.98) -> (-58.8, 60.98) projected
  line L77 (-58.8, 60.98) -> (-58.8, 54.6075) projected
  line L78 (-58.8, 54.6075) -> (-56.3, 54.6075) projected
  line L79 (-56.3, 54.6075) -> (-56.3, 48.235) projected
  line L80 (-56.3, 48.235) -> (-58.8, 48.235) projected
  line L81 (-58.8, 48.235) -> (-58.8, 41.8625) projected
  line L82 (-58.8, 41.8625) -> (-56.3, 41.8625) projected
  line L83 (-56.3, 41.8625) -> (-56.3, 35.49) projected
  line L84 (-56.3, 35.49) -> (-58.8, 35.49) projected
  line L85 (-58.8, 35.49) -> (-58.8, 29.1175) projected
  line L86 (-58.8, 29.1175) -> (-56.3, 29.1175) projected
  line L87 (-56.3, 29.1175) -> (-56.3, 22.745) projected
  line L88 (-56.3, 22.745) -> (-58.8, 22.745) projected
  line L89 (-58.8, 22.745) -> (-58.8, 16.3725) projected
  line L90 (-58.8, 16.3725) -> (-56.3, 16.3725) projected
  line L91 (-56.3, 16.3725) -> (-56.3, 10) projected
  line L92 (-56.3, 10) -> (-58.8, 10) projected
  line L93 (-58.8, 10) -> (-58.8, 0) projected
  line L94 (-58.8, 0) -> (-48.8, 0) projected
  line L95 (-48.8, 0) -> (-48.8, 2.5) projected
  line L96 (-48.8, 2.5) -> (-41.084, 2.5) projected
  line L97 (-41.084, 2.5) -> (-41.084, 0) projected
  line L98 (-41.084, 0) -> (-33.313, 0) projected
  line L99 (-33.313, 0) -> (-33.313, 2.5) projected
  line L100 (-33.313, 2.5) -> (-25.542, 2.5) projected
  line L101 (-25.542, 2.5) -> (-25.542, 0) projected
  line L102 (-25.542, 0) -> (-17.771, 0) projected
  line L103 (-17.771, 0) -> (-17.771, 2.5) projected
  line L104 (-17.771, 2.5) -> (-10, 2.5) projected
  line L105 (-10, 2.5) -> (-10, 0) projected
  line L106 (-10, 0) -> (0, 0) projected
  line L107 (0, 0) -> (0, 9) projected
  line L108 (-5, 5) -> (-53.8, 5) projected
  line L109 (-53.8, 5) -> (-53.8, 142.45) projected
  line L110 (-53.8, 142.45) -> (-5, 142.45) projected
  line L111 (-5, 142.45) -> (-5, 5) projected
  line L112 (-2.5, 144.95) -> (-56.3, 144.95)
  line L113 (-56.3, 144.95) -> (-56.3, 2.5)
  line L114 (-56.3, 2.5) -> (-2.5, 2.5)
  line L115 (-2.5, 2.5) -> (-2.5, 144.95)
extrude "Extrusion7" cut sketch "Sketch6" against normal blind 5 contours L115 L114 L104 L100 L96 L113 L91 L87 L83 L79 L75 L71 L67 L63 L59 L55 L112 L50 L46 L42 L37 L33 L29 L25 L21 L17 L13 L9 L5 L1
properties part number "COINTAITER"
